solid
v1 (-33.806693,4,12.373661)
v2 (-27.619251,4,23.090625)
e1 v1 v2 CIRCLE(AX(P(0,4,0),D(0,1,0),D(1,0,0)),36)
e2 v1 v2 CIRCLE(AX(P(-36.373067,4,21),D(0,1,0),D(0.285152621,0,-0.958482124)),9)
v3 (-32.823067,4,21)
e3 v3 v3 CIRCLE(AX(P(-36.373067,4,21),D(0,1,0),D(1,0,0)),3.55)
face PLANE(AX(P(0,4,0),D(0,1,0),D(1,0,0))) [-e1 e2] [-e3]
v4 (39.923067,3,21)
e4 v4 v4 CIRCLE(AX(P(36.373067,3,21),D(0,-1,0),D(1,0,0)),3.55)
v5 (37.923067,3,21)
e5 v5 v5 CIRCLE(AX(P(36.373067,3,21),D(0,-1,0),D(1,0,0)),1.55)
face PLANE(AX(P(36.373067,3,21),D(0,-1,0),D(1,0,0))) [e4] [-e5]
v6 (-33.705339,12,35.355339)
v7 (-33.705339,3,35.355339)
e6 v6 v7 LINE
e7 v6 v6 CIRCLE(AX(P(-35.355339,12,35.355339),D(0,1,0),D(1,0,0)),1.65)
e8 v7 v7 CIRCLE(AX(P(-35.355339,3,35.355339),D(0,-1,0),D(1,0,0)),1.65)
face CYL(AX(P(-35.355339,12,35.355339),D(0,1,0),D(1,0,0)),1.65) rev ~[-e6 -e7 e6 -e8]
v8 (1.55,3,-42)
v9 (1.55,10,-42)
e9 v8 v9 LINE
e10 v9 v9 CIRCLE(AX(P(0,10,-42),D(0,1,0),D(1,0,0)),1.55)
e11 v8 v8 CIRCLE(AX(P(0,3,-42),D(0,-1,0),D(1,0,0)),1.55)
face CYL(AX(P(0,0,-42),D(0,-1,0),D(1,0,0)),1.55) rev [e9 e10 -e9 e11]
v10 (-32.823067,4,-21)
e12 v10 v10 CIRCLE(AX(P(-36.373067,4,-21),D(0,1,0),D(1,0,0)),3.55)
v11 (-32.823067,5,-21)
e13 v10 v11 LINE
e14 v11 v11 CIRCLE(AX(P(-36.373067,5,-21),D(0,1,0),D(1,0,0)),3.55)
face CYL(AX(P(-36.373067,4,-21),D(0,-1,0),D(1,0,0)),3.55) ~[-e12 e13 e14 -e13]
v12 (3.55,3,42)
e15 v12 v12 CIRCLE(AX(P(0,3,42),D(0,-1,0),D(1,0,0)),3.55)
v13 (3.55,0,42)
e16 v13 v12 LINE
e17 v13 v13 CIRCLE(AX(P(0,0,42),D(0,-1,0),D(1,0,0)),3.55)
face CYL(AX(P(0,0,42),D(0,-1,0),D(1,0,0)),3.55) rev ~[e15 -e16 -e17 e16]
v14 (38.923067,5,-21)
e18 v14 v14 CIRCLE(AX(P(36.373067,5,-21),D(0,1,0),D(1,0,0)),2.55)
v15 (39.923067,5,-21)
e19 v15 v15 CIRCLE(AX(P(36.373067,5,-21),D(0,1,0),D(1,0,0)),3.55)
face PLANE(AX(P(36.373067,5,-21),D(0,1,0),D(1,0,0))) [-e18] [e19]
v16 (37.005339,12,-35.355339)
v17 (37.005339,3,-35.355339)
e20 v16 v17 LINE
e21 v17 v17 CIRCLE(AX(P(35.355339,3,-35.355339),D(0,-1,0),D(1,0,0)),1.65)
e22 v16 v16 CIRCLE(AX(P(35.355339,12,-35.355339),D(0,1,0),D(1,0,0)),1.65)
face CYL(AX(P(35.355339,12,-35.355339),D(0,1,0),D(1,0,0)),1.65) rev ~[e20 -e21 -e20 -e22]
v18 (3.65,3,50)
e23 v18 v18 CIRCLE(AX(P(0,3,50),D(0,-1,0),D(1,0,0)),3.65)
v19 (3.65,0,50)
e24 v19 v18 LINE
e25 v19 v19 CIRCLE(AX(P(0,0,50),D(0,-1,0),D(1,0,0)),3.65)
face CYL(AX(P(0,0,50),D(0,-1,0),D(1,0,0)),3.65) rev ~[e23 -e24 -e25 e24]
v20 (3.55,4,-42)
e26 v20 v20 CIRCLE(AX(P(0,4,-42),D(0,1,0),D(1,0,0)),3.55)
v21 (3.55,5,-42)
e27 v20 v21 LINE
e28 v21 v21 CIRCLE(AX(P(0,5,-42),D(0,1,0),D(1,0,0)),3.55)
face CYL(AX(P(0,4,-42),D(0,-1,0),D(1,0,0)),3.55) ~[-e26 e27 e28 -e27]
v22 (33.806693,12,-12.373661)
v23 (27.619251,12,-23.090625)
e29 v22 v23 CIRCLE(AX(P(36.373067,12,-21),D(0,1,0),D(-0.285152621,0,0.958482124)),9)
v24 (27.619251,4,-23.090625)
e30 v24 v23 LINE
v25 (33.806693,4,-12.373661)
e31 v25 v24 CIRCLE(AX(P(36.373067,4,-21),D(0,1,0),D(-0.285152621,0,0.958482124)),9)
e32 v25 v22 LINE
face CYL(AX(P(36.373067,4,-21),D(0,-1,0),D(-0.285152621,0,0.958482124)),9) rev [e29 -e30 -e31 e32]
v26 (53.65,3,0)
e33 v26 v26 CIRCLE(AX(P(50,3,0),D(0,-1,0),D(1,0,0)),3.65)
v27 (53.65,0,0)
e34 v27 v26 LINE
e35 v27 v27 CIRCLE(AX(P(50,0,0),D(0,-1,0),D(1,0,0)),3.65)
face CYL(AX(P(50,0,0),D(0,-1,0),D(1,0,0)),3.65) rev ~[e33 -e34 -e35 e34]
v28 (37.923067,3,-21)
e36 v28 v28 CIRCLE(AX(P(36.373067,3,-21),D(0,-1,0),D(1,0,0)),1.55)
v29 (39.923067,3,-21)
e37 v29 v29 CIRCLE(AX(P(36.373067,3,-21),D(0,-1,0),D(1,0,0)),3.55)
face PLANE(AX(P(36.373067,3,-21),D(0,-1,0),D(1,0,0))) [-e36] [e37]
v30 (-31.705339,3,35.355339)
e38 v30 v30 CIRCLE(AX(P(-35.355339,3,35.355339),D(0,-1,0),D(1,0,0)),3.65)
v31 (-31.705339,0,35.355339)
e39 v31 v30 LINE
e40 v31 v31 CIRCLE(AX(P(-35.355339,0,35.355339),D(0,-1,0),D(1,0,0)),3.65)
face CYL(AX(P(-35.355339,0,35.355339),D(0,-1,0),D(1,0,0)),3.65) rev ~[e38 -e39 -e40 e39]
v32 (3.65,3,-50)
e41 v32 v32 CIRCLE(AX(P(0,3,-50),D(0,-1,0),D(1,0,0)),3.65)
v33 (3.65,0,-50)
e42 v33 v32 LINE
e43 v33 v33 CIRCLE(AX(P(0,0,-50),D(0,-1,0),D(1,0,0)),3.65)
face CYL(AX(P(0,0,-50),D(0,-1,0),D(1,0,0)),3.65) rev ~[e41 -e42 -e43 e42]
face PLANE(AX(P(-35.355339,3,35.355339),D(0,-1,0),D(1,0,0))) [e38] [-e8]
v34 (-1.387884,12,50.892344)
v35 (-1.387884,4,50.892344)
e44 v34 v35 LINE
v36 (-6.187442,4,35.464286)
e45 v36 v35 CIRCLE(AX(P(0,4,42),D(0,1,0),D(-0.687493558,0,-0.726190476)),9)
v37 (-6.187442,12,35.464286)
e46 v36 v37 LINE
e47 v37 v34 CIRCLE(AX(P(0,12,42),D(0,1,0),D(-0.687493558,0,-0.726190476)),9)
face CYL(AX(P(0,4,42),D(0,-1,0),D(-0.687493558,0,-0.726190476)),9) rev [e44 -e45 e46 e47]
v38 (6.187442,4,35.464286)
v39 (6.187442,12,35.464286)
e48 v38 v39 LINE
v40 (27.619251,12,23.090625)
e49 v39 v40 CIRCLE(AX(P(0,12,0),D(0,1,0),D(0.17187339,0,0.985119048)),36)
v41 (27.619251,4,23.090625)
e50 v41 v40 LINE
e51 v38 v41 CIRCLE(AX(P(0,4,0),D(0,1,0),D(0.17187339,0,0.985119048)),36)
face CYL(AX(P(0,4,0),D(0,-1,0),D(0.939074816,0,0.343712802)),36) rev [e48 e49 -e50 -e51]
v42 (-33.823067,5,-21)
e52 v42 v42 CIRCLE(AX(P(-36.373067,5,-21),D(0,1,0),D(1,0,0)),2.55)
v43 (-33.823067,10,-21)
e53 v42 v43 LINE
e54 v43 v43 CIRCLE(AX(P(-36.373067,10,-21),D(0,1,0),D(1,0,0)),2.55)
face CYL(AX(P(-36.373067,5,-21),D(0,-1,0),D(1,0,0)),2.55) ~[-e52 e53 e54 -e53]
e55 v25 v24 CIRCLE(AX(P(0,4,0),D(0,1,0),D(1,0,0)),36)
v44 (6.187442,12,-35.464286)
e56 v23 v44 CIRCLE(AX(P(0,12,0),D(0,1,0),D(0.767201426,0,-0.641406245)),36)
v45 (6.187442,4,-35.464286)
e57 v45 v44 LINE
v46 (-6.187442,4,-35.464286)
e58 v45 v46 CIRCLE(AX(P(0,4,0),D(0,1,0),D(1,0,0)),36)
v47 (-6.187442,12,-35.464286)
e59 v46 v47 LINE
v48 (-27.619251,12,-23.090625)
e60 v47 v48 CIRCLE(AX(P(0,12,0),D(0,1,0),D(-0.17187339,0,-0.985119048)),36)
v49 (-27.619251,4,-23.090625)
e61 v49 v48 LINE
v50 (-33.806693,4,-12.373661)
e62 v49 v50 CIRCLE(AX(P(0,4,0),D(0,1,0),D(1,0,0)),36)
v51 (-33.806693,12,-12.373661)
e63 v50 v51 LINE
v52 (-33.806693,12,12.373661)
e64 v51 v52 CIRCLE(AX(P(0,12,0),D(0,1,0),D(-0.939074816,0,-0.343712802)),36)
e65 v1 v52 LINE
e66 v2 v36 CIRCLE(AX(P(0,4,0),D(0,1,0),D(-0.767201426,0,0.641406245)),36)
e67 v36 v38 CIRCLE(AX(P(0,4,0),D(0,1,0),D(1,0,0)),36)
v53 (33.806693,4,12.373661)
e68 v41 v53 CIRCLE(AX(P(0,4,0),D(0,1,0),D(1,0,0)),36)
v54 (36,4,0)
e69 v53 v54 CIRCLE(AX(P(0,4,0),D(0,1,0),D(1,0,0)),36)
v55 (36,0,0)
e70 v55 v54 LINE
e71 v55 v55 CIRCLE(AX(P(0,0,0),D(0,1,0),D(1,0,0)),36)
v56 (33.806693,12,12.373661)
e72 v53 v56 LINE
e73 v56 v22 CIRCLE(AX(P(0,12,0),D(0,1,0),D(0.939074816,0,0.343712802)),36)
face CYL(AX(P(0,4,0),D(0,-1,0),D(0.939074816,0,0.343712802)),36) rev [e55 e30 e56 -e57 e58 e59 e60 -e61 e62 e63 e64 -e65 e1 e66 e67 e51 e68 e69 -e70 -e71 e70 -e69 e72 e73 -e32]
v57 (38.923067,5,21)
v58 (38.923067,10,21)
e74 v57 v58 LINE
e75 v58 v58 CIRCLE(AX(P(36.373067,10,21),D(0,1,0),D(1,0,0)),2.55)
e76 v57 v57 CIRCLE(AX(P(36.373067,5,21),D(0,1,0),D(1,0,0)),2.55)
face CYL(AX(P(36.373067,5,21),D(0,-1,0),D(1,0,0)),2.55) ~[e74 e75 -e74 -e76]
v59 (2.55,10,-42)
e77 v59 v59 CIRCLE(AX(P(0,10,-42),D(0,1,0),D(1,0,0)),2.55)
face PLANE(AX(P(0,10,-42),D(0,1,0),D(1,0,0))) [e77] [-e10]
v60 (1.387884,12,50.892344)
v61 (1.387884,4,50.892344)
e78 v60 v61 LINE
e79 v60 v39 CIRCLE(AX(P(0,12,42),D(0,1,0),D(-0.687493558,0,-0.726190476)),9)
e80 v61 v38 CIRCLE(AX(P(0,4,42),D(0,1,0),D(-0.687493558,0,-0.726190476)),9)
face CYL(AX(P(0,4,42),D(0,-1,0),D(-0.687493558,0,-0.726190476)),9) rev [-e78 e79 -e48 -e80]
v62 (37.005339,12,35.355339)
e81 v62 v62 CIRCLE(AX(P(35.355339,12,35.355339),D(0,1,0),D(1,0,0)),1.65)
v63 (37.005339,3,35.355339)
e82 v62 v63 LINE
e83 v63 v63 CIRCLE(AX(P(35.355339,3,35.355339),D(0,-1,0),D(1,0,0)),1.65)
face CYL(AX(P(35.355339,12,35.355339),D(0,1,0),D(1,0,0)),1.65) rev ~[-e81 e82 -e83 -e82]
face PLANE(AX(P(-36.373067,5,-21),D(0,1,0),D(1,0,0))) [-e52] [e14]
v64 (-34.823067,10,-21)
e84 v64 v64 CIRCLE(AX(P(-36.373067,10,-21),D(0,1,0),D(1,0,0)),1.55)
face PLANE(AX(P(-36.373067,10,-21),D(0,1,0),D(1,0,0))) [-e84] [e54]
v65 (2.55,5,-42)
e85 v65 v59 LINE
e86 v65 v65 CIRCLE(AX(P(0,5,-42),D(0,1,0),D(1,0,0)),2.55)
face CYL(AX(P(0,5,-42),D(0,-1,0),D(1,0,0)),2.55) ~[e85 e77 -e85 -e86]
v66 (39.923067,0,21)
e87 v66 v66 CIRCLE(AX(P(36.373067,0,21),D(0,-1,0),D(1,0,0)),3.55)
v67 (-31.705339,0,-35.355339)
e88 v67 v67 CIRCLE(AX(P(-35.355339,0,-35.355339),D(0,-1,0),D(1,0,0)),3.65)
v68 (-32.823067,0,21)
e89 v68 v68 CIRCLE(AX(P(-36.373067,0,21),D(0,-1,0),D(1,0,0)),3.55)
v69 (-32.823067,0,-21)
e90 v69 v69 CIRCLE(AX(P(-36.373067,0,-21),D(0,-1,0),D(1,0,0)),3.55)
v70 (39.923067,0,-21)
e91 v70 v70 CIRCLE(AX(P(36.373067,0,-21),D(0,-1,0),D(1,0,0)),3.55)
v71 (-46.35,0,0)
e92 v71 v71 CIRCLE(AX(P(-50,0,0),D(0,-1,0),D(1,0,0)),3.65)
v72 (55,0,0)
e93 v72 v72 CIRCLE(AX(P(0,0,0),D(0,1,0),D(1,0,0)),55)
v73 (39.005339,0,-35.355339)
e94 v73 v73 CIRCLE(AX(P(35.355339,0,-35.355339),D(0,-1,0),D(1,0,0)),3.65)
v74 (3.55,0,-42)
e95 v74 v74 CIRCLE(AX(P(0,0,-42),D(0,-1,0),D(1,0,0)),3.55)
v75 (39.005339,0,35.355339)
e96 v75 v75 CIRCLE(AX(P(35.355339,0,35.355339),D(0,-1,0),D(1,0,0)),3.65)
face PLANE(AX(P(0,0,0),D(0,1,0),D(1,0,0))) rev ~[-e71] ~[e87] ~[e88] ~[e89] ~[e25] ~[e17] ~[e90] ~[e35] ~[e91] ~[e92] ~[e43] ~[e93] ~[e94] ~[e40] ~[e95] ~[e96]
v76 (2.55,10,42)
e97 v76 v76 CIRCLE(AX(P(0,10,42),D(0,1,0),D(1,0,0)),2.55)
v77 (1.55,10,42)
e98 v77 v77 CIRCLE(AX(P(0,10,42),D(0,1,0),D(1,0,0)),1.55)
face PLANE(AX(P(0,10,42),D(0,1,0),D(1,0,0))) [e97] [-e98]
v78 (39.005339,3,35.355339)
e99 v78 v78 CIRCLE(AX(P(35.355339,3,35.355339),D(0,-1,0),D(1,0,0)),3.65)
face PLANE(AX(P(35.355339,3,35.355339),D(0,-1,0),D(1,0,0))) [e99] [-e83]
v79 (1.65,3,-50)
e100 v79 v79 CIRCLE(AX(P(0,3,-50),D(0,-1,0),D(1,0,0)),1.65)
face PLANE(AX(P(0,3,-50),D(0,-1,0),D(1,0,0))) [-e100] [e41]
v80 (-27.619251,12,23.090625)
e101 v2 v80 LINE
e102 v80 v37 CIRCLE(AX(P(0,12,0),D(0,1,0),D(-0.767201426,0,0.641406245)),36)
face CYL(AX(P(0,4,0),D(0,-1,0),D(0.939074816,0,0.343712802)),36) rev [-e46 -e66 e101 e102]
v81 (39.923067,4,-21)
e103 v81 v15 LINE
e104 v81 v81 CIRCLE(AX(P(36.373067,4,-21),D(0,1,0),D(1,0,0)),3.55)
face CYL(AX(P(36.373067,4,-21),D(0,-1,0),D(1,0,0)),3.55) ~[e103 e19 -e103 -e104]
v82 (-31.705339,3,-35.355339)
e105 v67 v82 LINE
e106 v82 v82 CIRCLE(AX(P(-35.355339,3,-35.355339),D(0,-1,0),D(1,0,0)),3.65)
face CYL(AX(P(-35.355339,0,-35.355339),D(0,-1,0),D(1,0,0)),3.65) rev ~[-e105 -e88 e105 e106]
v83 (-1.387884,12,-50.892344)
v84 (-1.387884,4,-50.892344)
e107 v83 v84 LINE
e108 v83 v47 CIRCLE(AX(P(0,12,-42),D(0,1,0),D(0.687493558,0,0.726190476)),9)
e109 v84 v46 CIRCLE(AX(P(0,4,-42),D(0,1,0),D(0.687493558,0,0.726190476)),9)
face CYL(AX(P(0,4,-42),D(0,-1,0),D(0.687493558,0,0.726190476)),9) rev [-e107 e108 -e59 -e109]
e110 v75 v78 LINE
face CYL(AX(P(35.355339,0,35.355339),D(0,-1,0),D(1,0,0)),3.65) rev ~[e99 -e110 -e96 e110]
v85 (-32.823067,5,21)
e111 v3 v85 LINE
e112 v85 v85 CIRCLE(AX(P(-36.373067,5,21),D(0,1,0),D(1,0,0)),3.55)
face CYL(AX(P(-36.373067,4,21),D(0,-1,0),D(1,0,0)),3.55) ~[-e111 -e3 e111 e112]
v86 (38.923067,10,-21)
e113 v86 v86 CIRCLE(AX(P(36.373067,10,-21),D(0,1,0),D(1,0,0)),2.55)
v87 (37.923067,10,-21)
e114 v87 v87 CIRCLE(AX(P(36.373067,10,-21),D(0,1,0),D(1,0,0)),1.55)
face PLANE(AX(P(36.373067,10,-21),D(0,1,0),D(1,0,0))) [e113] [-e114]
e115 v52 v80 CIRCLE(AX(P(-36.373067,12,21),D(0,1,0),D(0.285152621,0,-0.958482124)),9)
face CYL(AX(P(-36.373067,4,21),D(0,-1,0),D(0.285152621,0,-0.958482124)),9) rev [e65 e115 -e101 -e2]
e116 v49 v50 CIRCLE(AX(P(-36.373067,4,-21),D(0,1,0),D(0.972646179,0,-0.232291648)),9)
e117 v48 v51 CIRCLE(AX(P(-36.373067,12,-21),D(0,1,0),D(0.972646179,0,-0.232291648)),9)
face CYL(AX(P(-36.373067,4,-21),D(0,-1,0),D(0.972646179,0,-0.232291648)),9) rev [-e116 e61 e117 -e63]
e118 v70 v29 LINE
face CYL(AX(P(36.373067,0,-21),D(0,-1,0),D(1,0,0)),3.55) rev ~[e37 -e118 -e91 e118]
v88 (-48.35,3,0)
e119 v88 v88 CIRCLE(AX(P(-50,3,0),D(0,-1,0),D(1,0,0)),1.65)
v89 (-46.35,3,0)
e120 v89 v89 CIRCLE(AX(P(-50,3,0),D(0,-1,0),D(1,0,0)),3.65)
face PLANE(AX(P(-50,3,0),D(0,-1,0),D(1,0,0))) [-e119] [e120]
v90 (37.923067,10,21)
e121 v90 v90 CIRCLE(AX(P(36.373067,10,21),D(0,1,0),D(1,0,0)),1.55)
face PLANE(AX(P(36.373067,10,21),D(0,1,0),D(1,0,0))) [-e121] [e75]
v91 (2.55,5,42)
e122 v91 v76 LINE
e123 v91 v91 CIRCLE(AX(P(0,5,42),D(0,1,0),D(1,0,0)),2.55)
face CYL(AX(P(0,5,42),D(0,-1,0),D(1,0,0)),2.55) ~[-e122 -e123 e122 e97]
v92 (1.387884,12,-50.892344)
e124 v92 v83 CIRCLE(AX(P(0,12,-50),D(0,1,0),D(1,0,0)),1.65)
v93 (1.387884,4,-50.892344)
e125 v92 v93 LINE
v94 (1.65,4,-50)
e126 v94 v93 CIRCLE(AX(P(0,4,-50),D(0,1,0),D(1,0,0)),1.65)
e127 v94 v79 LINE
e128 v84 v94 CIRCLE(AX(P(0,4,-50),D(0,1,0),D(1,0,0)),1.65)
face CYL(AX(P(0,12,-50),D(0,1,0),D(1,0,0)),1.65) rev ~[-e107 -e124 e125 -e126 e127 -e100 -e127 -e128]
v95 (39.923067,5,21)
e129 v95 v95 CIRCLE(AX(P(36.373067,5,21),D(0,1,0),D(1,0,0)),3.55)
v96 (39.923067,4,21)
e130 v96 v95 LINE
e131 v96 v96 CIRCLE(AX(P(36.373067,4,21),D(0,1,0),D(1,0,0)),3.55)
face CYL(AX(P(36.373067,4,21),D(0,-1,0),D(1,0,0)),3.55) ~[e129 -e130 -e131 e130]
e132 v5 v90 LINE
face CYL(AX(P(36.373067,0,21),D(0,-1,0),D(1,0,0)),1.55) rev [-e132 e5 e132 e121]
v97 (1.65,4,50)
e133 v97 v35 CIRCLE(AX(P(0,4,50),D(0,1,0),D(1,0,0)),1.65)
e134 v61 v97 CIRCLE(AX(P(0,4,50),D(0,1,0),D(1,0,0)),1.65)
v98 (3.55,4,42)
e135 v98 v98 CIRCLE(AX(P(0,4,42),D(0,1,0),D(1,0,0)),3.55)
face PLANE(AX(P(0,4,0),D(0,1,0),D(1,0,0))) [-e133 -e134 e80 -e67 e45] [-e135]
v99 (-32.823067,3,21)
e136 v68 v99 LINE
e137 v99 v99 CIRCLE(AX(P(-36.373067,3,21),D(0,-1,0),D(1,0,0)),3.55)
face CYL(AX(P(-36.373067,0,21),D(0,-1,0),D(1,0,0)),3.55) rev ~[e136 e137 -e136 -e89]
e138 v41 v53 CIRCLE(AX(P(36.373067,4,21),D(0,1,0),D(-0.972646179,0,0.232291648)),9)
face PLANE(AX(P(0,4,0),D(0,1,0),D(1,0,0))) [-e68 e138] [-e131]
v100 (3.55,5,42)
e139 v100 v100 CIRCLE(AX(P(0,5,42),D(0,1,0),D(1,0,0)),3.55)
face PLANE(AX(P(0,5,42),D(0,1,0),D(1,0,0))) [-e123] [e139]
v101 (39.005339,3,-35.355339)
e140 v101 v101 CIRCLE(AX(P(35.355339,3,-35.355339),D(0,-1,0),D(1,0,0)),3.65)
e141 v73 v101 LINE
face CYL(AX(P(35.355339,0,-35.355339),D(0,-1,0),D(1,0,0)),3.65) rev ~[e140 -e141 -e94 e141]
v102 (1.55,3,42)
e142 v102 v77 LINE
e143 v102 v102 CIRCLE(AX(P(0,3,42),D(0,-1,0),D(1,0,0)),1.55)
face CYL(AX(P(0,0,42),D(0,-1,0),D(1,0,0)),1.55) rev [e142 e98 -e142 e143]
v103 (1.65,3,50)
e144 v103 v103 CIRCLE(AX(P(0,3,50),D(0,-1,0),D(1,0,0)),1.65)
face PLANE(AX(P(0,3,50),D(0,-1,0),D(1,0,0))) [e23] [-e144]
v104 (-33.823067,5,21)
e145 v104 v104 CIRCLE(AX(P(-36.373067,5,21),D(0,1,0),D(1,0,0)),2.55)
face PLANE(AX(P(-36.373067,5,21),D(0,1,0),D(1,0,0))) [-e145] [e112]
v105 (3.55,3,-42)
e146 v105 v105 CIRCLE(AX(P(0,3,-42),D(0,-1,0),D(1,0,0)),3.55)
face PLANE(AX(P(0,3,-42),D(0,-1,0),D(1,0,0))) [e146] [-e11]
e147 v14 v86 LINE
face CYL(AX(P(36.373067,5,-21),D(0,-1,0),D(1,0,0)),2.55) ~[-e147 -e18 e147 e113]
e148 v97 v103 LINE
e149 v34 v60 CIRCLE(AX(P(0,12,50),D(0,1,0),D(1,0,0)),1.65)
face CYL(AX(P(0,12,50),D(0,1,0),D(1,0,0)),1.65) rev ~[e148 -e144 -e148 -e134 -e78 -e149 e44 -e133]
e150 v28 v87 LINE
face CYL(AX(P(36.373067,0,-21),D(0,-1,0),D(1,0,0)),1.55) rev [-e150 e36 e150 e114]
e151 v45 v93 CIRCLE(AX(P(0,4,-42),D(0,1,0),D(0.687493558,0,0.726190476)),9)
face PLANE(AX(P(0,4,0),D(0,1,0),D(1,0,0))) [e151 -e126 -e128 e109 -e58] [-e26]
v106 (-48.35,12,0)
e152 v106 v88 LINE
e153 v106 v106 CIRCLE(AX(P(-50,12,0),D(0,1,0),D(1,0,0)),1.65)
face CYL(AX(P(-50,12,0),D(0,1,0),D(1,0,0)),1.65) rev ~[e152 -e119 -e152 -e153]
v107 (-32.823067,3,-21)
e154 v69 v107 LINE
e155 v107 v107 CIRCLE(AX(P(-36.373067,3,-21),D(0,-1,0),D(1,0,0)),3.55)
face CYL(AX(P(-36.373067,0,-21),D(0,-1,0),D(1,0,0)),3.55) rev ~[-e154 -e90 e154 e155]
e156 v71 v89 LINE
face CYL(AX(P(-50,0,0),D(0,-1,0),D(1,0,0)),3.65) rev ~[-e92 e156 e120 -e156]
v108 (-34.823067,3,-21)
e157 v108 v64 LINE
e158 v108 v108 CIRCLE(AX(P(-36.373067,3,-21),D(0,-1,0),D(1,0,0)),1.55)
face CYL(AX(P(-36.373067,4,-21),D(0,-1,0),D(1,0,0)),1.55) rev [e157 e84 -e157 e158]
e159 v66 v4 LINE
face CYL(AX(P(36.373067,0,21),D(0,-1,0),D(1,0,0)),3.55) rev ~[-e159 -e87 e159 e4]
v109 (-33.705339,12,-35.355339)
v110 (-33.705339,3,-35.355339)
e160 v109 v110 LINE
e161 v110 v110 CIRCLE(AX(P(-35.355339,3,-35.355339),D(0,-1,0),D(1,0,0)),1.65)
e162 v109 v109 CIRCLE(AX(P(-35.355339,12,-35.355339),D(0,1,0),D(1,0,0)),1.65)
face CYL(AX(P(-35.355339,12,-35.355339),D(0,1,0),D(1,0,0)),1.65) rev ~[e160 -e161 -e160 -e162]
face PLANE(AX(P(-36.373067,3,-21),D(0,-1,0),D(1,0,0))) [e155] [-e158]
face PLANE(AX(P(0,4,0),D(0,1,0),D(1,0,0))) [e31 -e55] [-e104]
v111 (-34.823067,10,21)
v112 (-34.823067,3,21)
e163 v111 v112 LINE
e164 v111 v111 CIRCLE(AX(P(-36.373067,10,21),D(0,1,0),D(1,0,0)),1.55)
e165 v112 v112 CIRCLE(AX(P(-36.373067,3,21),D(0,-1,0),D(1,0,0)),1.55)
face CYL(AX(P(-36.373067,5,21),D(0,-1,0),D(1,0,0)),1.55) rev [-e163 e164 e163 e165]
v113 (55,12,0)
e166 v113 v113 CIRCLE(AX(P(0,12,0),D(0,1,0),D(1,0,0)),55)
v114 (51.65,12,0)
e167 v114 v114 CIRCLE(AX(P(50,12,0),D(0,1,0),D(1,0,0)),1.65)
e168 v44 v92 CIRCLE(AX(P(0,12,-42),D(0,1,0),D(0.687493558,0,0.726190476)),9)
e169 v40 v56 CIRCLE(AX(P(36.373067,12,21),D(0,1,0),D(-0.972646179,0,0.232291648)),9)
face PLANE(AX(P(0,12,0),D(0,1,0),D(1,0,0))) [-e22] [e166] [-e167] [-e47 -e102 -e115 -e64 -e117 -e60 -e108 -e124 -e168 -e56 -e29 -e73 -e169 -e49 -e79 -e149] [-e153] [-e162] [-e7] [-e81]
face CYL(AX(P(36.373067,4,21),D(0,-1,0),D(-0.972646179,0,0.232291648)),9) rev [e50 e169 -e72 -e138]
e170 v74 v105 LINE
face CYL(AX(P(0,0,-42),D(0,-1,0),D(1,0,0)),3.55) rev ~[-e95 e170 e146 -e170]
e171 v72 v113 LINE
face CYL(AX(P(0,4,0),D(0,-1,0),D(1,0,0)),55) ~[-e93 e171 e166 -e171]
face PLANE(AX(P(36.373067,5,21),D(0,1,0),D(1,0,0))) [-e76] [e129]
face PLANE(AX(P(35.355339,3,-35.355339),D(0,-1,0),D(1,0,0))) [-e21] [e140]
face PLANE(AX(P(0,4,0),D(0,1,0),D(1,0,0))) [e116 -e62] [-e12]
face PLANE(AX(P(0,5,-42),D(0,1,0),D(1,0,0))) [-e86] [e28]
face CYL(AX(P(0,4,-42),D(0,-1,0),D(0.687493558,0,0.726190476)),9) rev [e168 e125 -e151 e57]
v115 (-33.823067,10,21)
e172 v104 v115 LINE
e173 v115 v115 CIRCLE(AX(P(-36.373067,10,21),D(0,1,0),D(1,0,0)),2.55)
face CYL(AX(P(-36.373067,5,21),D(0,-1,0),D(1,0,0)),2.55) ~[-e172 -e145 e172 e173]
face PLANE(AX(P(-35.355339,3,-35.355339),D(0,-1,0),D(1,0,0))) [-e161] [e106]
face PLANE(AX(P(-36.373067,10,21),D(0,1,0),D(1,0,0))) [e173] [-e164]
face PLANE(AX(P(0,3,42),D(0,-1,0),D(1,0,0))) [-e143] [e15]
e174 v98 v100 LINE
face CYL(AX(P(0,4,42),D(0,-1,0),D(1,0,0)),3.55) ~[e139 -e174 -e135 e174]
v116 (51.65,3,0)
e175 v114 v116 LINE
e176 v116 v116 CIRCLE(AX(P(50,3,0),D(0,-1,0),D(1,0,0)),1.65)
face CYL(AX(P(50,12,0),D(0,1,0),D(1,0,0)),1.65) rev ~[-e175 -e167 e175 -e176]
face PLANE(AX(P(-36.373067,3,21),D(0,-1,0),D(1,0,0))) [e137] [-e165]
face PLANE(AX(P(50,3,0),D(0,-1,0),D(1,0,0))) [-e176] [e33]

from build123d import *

# Parameters (mm, degrees)
SKETCH1_R           = 55
SKETCH1_R_2         = 36
SKETCH1_R_3         = 1.55
BOSS_EXTRUDE1_DEPTH = 4
SKETCH3_R           = 3.55
SKETCH3_R_2         = 1.55
BOSS_EXTRUDE2_DEPTH = 1
SKETCH5_R           = 2.55
SKETCH5_R_2         = 1.55
BOSS_EXTRUDE3_DEPTH = 5
SKETCH6_R           = 55
BOSS_EXTRUDE4_DEPTH = 8
SKETCH8_R           = 1.65
CUT_EXTRUDE2_DEPTH  = 13
SKETCH7_R           = 3.55
SKETCH7_R_2         = 1.55
SKETCH7_R_3         = 3.65
SKETCH7_R_4         = 1.65
CUT_EXTRUDE1_DEPTH  = 3


with BuildPart() as part:
    # Sketch1 → Boss-Extrude1 (new body)
    with BuildSketch(Plane(origin=(0, 0, 0), x_dir=(1, 0, 0), z_dir=(0, 1, 0))):
        Circle(SKETCH1_R)
        Circle(SKETCH1_R_2, mode=Mode.SUBTRACT)
        with Locations((0, 42)):
            Circle(SKETCH1_R_3, mode=Mode.SUBTRACT)
        with Locations((36.373066959, 21)):
            Circle(SKETCH1_R_3, mode=Mode.SUBTRACT)
        with Locations((36.373066959, -21)):
            Circle(SKETCH1_R_3, mode=Mode.SUBTRACT)
        with Locations((0, -42)):
            Circle(SKETCH1_R_3, mode=Mode.SUBTRACT)
        with Locations((-36.373066959, -21)):
            Circle(SKETCH1_R_3, mode=Mode.SUBTRACT)
        with Locations((-36.373066959, 21)):
            Circle(SKETCH1_R_3, mode=Mode.SUBTRACT)
    extrude(amount=BOSS_EXTRUDE1_DEPTH)

    # Sketch3 → Boss-Extrude2 (add)
    with BuildSketch(Plane(origin=(0, 4, 0), x_dir=(1, 0, 0), z_dir=(0, 1, 0))):
        with Locations((-36.373066959, 21)):
            Circle(SKETCH3_R)
        with Locations((-36.373066959, 21)):
            Circle(SKETCH3_R_2, mode=Mode.SUBTRACT)
        with Locations((0, -42)):
            Circle(SKETCH3_R)
        with Locations((0, -42)):
            Circle(SKETCH3_R_2, mode=Mode.SUBTRACT)
        with Locations((36.373066959, 21)):
            Circle(SKETCH3_R)
        with Locations((36.373066959, 21)):
            Circle(SKETCH3_R_2, mode=Mode.SUBTRACT)
        with Locations((0, 42)):
            Circle(SKETCH3_R)
        with Locations((0, 42)):
            Circle(SKETCH3_R_2, mode=Mode.SUBTRACT)
        with Locations((36.373066959, -21)):
            Circle(SKETCH3_R)
        with Locations((36.373066959, -21)):
            Circle(SKETCH3_R_2, mode=Mode.SUBTRACT)
        with Locations((-36.373066959, -21)):
            Circle(SKETCH3_R)
        with Locations((-36.373066959, -21)):
            Circle(SKETCH3_R_2, mode=Mode.SUBTRACT)
    extrude(amount=BOSS_EXTRUDE2_DEPTH)

    # Sketch5 → Boss-Extrude3 (add)
    with BuildSketch(Plane(origin=(0, 5, 0), x_dir=(1, 0, 0), z_dir=(0, 1, 0))):
        with Locations((-36.373066959, -21)):
            Circle(SKETCH5_R)
        with Locations((-36.373066959, -21)):
            Circle(SKETCH5_R_2, mode=Mode.SUBTRACT)
        with Locations((0, -42)):
            Circle(SKETCH5_R)
        with Locations((0, -42)):
            Circle(SKETCH5_R_2, mode=Mode.SUBTRACT)
        with Locations((36.373066959, -21)):
            Circle(SKETCH5_R)
        with Locations((36.373066959, -21)):
            Circle(SKETCH5_R_2, mode=Mode.SUBTRACT)
        with Locations((36.373066959, 21)):
            Circle(SKETCH5_R)
        with Locations((36.373066959, 21)):
            Circle(SKETCH5_R_2, mode=Mode.SUBTRACT)
        with Locations((0, 42)):
            Circle(SKETCH5_R)
        with Locations((0, 42)):
            Circle(SKETCH5_R_2, mode=Mode.SUBTRACT)
        with Locations((-36.373066959, 21)):
            Circle(SKETCH5_R)
        with Locations((-36.373066959, 21)):
            Circle(SKETCH5_R_2, mode=Mode.SUBTRACT)
    extrude(amount=BOSS_EXTRUDE3_DEPTH)

    # Sketch6 → Boss-Extrude4 (add)
    with BuildSketch(Plane(origin=(0, 4, 0), x_dir=(1, 0, 0), z_dir=(0, 1, 0))):
        Circle(SKETCH6_R)
        with BuildLine():
            ThreePointArc((6.187442022, 35.464285714), (0, 51), (-6.187442022, 35.464285714))
            ThreePointArc((-6.187442022, 35.464285714), (-18, 31.176914536), (-27.619251345, 23.090624833))
            ThreePointArc((-27.619251345, 23.090624833), (-44.167295593, 25.5), (-33.806693367, 12.373660882))
            ThreePointArc((-33.806693367, 12.373660882), (-36, 0), (-33.806693367, -12.373660882))
            ThreePointArc((-33.806693367, -12.373660882), (-44.167295593, -25.5), (-27.619251345, -23.090624833))
            ThreePointArc((-27.619251345, -23.090624833), (-18, -31.176914536), (-6.187442022, -35.464285714))
            ThreePointArc((-6.187442022, -35.464285714), (0, -51), (6.187442022, -35.464285714))
            ThreePointArc((6.187442022, -35.464285714), (18, -31.176914536), (27.619251345, -23.090624833))
            ThreePointArc((27.619251345, -23.090624833), (44.167295593, -25.5), (33.806693367, -12.373660882))
            ThreePointArc((33.806693367, -12.373660882), (36, 0), (33.806693367, 12.373660882))
            ThreePointArc((33.806693367, 12.373660882), (44.167295593, 25.5), (27.619251345, 23.090624833))
            ThreePointArc((27.619251345, 23.090624833), (18, 31.176914536), (6.187442022, 35.464285714))
        make_face(mode=Mode.SUBTRACT)
    extrude(amount=BOSS_EXTRUDE4_DEPTH)

    # Sketch8 → Cut-Extrude2 (cut, through all)
    with BuildSketch(Plane(origin=(0, 12, 0), x_dir=(1, 0, 0), z_dir=(0, 1, 0))):
        with Locations((0, 50)):
            Circle(SKETCH8_R)
        with Locations((35.355339059, 35.355339059)):
            Circle(SKETCH8_R)
        with Locations((50, 0)):
            Circle(SKETCH8_R)
        with Locations((35.355339059, -35.355339059)):
            Circle(SKETCH8_R)
        with Locations((0, -50)):
            Circle(SKETCH8_R)
        with Locations((-35.355339059, -35.355339059)):
            Circle(SKETCH8_R)
        with Locations((-50, 0)):
            Circle(SKETCH8_R)
        with Locations((-35.355339059, 35.355339059)):
            Circle(SKETCH8_R)
    extrude(amount=-CUT_EXTRUDE2_DEPTH, mode=Mode.SUBTRACT)

    # Sketch7 → Cut-Extrude1 (cut)
    with BuildSketch(Plane.XZ):
        with Locations((-36.373066959, -21)):
            Circle(SKETCH7_R)
        with Locations((-36.373066959, -21)):
            Circle(SKETCH7_R_2, mode=Mode.SUBTRACT)
        with Locations((-36.373066959, 21)):
            Circle(SKETCH7_R)
        with Locations((-36.373066959, 21)):
            Circle(SKETCH7_R_2, mode=Mode.SUBTRACT)
        with Locations((0, 42)):
            Circle(SKETCH7_R)
        with Locations((0, 42)):
            Circle(SKETCH7_R_2, mode=Mode.SUBTRACT)
        with Locations((36.373066959, 21)):
            Circle(SKETCH7_R)
        with Locations((36.373066959, 21)):
            Circle(SKETCH7_R_2, mode=Mode.SUBTRACT)
        with Locations((36.373066959, -21)):
            Circle(SKETCH7_R)
        with Locations((36.373066959, -21)):
            Circle(SKETCH7_R_2, mode=Mode.SUBTRACT)
        with Locations((0, -42)):
            Circle(SKETCH7_R)
        with Locations((0, -42)):
            Circle(SKETCH7_R_2, mode=Mode.SUBTRACT)
        with Locations((-35.355339059, -35.355339059)):
            Circle(SKETCH7_R_3)
        with Locations((-35.355339059, -35.355339059)):
            Circle(SKETCH7_R_4, mode=Mode.SUBTRACT)
        with Locations((-50, 0)):
            Circle(SKETCH7_R_3)
        with Locations((-50, 0)):
            Circle(SKETCH7_R_4, mode=Mode.SUBTRACT)
        with Locations((-35.355339059, 35.355339059)):
            Circle(SKETCH7_R_3)
        with Locations((-35.355339059, 35.355339059)):
            Circle(SKETCH7_R_4, mode=Mode.SUBTRACT)
        with Locations((0, 50)):
            Circle(SKETCH7_R_3)
        with Locations((0, 50)):
            Circle(SKETCH7_R_4, mode=Mode.SUBTRACT)
        with Locations((35.355339059, 35.355339059)):
            Circle(SKETCH7_R_3)
        with Locations((35.355339059, 35.355339059)):
            Circle(SKETCH7_R_4, mode=Mode.SUBTRACT)
        with Locations((50, 0)):
            Circle(SKETCH7_R_3)
        with Locations((50, 0)):
            Circle(SKETCH7_R_4, mode=Mode.SUBTRACT)
        with Locations((35.355339059, -35.355339059)):
            Circle(SKETCH7_R_3)
        with Locations((35.355339059, -35.355339059)):
            Circle(SKETCH7_R_4, mode=Mode.SUBTRACT)
        with Locations((0, -50)):
            Circle(SKETCH7_R_3)
        with Locations((0, -50)):
            Circle(SKETCH7_R_4, mode=Mode.SUBTRACT)
    extrude(amount=-CUT_EXTRUDE1_DEPTH, mode=Mode.SUBTRACT)


solid = part.part
